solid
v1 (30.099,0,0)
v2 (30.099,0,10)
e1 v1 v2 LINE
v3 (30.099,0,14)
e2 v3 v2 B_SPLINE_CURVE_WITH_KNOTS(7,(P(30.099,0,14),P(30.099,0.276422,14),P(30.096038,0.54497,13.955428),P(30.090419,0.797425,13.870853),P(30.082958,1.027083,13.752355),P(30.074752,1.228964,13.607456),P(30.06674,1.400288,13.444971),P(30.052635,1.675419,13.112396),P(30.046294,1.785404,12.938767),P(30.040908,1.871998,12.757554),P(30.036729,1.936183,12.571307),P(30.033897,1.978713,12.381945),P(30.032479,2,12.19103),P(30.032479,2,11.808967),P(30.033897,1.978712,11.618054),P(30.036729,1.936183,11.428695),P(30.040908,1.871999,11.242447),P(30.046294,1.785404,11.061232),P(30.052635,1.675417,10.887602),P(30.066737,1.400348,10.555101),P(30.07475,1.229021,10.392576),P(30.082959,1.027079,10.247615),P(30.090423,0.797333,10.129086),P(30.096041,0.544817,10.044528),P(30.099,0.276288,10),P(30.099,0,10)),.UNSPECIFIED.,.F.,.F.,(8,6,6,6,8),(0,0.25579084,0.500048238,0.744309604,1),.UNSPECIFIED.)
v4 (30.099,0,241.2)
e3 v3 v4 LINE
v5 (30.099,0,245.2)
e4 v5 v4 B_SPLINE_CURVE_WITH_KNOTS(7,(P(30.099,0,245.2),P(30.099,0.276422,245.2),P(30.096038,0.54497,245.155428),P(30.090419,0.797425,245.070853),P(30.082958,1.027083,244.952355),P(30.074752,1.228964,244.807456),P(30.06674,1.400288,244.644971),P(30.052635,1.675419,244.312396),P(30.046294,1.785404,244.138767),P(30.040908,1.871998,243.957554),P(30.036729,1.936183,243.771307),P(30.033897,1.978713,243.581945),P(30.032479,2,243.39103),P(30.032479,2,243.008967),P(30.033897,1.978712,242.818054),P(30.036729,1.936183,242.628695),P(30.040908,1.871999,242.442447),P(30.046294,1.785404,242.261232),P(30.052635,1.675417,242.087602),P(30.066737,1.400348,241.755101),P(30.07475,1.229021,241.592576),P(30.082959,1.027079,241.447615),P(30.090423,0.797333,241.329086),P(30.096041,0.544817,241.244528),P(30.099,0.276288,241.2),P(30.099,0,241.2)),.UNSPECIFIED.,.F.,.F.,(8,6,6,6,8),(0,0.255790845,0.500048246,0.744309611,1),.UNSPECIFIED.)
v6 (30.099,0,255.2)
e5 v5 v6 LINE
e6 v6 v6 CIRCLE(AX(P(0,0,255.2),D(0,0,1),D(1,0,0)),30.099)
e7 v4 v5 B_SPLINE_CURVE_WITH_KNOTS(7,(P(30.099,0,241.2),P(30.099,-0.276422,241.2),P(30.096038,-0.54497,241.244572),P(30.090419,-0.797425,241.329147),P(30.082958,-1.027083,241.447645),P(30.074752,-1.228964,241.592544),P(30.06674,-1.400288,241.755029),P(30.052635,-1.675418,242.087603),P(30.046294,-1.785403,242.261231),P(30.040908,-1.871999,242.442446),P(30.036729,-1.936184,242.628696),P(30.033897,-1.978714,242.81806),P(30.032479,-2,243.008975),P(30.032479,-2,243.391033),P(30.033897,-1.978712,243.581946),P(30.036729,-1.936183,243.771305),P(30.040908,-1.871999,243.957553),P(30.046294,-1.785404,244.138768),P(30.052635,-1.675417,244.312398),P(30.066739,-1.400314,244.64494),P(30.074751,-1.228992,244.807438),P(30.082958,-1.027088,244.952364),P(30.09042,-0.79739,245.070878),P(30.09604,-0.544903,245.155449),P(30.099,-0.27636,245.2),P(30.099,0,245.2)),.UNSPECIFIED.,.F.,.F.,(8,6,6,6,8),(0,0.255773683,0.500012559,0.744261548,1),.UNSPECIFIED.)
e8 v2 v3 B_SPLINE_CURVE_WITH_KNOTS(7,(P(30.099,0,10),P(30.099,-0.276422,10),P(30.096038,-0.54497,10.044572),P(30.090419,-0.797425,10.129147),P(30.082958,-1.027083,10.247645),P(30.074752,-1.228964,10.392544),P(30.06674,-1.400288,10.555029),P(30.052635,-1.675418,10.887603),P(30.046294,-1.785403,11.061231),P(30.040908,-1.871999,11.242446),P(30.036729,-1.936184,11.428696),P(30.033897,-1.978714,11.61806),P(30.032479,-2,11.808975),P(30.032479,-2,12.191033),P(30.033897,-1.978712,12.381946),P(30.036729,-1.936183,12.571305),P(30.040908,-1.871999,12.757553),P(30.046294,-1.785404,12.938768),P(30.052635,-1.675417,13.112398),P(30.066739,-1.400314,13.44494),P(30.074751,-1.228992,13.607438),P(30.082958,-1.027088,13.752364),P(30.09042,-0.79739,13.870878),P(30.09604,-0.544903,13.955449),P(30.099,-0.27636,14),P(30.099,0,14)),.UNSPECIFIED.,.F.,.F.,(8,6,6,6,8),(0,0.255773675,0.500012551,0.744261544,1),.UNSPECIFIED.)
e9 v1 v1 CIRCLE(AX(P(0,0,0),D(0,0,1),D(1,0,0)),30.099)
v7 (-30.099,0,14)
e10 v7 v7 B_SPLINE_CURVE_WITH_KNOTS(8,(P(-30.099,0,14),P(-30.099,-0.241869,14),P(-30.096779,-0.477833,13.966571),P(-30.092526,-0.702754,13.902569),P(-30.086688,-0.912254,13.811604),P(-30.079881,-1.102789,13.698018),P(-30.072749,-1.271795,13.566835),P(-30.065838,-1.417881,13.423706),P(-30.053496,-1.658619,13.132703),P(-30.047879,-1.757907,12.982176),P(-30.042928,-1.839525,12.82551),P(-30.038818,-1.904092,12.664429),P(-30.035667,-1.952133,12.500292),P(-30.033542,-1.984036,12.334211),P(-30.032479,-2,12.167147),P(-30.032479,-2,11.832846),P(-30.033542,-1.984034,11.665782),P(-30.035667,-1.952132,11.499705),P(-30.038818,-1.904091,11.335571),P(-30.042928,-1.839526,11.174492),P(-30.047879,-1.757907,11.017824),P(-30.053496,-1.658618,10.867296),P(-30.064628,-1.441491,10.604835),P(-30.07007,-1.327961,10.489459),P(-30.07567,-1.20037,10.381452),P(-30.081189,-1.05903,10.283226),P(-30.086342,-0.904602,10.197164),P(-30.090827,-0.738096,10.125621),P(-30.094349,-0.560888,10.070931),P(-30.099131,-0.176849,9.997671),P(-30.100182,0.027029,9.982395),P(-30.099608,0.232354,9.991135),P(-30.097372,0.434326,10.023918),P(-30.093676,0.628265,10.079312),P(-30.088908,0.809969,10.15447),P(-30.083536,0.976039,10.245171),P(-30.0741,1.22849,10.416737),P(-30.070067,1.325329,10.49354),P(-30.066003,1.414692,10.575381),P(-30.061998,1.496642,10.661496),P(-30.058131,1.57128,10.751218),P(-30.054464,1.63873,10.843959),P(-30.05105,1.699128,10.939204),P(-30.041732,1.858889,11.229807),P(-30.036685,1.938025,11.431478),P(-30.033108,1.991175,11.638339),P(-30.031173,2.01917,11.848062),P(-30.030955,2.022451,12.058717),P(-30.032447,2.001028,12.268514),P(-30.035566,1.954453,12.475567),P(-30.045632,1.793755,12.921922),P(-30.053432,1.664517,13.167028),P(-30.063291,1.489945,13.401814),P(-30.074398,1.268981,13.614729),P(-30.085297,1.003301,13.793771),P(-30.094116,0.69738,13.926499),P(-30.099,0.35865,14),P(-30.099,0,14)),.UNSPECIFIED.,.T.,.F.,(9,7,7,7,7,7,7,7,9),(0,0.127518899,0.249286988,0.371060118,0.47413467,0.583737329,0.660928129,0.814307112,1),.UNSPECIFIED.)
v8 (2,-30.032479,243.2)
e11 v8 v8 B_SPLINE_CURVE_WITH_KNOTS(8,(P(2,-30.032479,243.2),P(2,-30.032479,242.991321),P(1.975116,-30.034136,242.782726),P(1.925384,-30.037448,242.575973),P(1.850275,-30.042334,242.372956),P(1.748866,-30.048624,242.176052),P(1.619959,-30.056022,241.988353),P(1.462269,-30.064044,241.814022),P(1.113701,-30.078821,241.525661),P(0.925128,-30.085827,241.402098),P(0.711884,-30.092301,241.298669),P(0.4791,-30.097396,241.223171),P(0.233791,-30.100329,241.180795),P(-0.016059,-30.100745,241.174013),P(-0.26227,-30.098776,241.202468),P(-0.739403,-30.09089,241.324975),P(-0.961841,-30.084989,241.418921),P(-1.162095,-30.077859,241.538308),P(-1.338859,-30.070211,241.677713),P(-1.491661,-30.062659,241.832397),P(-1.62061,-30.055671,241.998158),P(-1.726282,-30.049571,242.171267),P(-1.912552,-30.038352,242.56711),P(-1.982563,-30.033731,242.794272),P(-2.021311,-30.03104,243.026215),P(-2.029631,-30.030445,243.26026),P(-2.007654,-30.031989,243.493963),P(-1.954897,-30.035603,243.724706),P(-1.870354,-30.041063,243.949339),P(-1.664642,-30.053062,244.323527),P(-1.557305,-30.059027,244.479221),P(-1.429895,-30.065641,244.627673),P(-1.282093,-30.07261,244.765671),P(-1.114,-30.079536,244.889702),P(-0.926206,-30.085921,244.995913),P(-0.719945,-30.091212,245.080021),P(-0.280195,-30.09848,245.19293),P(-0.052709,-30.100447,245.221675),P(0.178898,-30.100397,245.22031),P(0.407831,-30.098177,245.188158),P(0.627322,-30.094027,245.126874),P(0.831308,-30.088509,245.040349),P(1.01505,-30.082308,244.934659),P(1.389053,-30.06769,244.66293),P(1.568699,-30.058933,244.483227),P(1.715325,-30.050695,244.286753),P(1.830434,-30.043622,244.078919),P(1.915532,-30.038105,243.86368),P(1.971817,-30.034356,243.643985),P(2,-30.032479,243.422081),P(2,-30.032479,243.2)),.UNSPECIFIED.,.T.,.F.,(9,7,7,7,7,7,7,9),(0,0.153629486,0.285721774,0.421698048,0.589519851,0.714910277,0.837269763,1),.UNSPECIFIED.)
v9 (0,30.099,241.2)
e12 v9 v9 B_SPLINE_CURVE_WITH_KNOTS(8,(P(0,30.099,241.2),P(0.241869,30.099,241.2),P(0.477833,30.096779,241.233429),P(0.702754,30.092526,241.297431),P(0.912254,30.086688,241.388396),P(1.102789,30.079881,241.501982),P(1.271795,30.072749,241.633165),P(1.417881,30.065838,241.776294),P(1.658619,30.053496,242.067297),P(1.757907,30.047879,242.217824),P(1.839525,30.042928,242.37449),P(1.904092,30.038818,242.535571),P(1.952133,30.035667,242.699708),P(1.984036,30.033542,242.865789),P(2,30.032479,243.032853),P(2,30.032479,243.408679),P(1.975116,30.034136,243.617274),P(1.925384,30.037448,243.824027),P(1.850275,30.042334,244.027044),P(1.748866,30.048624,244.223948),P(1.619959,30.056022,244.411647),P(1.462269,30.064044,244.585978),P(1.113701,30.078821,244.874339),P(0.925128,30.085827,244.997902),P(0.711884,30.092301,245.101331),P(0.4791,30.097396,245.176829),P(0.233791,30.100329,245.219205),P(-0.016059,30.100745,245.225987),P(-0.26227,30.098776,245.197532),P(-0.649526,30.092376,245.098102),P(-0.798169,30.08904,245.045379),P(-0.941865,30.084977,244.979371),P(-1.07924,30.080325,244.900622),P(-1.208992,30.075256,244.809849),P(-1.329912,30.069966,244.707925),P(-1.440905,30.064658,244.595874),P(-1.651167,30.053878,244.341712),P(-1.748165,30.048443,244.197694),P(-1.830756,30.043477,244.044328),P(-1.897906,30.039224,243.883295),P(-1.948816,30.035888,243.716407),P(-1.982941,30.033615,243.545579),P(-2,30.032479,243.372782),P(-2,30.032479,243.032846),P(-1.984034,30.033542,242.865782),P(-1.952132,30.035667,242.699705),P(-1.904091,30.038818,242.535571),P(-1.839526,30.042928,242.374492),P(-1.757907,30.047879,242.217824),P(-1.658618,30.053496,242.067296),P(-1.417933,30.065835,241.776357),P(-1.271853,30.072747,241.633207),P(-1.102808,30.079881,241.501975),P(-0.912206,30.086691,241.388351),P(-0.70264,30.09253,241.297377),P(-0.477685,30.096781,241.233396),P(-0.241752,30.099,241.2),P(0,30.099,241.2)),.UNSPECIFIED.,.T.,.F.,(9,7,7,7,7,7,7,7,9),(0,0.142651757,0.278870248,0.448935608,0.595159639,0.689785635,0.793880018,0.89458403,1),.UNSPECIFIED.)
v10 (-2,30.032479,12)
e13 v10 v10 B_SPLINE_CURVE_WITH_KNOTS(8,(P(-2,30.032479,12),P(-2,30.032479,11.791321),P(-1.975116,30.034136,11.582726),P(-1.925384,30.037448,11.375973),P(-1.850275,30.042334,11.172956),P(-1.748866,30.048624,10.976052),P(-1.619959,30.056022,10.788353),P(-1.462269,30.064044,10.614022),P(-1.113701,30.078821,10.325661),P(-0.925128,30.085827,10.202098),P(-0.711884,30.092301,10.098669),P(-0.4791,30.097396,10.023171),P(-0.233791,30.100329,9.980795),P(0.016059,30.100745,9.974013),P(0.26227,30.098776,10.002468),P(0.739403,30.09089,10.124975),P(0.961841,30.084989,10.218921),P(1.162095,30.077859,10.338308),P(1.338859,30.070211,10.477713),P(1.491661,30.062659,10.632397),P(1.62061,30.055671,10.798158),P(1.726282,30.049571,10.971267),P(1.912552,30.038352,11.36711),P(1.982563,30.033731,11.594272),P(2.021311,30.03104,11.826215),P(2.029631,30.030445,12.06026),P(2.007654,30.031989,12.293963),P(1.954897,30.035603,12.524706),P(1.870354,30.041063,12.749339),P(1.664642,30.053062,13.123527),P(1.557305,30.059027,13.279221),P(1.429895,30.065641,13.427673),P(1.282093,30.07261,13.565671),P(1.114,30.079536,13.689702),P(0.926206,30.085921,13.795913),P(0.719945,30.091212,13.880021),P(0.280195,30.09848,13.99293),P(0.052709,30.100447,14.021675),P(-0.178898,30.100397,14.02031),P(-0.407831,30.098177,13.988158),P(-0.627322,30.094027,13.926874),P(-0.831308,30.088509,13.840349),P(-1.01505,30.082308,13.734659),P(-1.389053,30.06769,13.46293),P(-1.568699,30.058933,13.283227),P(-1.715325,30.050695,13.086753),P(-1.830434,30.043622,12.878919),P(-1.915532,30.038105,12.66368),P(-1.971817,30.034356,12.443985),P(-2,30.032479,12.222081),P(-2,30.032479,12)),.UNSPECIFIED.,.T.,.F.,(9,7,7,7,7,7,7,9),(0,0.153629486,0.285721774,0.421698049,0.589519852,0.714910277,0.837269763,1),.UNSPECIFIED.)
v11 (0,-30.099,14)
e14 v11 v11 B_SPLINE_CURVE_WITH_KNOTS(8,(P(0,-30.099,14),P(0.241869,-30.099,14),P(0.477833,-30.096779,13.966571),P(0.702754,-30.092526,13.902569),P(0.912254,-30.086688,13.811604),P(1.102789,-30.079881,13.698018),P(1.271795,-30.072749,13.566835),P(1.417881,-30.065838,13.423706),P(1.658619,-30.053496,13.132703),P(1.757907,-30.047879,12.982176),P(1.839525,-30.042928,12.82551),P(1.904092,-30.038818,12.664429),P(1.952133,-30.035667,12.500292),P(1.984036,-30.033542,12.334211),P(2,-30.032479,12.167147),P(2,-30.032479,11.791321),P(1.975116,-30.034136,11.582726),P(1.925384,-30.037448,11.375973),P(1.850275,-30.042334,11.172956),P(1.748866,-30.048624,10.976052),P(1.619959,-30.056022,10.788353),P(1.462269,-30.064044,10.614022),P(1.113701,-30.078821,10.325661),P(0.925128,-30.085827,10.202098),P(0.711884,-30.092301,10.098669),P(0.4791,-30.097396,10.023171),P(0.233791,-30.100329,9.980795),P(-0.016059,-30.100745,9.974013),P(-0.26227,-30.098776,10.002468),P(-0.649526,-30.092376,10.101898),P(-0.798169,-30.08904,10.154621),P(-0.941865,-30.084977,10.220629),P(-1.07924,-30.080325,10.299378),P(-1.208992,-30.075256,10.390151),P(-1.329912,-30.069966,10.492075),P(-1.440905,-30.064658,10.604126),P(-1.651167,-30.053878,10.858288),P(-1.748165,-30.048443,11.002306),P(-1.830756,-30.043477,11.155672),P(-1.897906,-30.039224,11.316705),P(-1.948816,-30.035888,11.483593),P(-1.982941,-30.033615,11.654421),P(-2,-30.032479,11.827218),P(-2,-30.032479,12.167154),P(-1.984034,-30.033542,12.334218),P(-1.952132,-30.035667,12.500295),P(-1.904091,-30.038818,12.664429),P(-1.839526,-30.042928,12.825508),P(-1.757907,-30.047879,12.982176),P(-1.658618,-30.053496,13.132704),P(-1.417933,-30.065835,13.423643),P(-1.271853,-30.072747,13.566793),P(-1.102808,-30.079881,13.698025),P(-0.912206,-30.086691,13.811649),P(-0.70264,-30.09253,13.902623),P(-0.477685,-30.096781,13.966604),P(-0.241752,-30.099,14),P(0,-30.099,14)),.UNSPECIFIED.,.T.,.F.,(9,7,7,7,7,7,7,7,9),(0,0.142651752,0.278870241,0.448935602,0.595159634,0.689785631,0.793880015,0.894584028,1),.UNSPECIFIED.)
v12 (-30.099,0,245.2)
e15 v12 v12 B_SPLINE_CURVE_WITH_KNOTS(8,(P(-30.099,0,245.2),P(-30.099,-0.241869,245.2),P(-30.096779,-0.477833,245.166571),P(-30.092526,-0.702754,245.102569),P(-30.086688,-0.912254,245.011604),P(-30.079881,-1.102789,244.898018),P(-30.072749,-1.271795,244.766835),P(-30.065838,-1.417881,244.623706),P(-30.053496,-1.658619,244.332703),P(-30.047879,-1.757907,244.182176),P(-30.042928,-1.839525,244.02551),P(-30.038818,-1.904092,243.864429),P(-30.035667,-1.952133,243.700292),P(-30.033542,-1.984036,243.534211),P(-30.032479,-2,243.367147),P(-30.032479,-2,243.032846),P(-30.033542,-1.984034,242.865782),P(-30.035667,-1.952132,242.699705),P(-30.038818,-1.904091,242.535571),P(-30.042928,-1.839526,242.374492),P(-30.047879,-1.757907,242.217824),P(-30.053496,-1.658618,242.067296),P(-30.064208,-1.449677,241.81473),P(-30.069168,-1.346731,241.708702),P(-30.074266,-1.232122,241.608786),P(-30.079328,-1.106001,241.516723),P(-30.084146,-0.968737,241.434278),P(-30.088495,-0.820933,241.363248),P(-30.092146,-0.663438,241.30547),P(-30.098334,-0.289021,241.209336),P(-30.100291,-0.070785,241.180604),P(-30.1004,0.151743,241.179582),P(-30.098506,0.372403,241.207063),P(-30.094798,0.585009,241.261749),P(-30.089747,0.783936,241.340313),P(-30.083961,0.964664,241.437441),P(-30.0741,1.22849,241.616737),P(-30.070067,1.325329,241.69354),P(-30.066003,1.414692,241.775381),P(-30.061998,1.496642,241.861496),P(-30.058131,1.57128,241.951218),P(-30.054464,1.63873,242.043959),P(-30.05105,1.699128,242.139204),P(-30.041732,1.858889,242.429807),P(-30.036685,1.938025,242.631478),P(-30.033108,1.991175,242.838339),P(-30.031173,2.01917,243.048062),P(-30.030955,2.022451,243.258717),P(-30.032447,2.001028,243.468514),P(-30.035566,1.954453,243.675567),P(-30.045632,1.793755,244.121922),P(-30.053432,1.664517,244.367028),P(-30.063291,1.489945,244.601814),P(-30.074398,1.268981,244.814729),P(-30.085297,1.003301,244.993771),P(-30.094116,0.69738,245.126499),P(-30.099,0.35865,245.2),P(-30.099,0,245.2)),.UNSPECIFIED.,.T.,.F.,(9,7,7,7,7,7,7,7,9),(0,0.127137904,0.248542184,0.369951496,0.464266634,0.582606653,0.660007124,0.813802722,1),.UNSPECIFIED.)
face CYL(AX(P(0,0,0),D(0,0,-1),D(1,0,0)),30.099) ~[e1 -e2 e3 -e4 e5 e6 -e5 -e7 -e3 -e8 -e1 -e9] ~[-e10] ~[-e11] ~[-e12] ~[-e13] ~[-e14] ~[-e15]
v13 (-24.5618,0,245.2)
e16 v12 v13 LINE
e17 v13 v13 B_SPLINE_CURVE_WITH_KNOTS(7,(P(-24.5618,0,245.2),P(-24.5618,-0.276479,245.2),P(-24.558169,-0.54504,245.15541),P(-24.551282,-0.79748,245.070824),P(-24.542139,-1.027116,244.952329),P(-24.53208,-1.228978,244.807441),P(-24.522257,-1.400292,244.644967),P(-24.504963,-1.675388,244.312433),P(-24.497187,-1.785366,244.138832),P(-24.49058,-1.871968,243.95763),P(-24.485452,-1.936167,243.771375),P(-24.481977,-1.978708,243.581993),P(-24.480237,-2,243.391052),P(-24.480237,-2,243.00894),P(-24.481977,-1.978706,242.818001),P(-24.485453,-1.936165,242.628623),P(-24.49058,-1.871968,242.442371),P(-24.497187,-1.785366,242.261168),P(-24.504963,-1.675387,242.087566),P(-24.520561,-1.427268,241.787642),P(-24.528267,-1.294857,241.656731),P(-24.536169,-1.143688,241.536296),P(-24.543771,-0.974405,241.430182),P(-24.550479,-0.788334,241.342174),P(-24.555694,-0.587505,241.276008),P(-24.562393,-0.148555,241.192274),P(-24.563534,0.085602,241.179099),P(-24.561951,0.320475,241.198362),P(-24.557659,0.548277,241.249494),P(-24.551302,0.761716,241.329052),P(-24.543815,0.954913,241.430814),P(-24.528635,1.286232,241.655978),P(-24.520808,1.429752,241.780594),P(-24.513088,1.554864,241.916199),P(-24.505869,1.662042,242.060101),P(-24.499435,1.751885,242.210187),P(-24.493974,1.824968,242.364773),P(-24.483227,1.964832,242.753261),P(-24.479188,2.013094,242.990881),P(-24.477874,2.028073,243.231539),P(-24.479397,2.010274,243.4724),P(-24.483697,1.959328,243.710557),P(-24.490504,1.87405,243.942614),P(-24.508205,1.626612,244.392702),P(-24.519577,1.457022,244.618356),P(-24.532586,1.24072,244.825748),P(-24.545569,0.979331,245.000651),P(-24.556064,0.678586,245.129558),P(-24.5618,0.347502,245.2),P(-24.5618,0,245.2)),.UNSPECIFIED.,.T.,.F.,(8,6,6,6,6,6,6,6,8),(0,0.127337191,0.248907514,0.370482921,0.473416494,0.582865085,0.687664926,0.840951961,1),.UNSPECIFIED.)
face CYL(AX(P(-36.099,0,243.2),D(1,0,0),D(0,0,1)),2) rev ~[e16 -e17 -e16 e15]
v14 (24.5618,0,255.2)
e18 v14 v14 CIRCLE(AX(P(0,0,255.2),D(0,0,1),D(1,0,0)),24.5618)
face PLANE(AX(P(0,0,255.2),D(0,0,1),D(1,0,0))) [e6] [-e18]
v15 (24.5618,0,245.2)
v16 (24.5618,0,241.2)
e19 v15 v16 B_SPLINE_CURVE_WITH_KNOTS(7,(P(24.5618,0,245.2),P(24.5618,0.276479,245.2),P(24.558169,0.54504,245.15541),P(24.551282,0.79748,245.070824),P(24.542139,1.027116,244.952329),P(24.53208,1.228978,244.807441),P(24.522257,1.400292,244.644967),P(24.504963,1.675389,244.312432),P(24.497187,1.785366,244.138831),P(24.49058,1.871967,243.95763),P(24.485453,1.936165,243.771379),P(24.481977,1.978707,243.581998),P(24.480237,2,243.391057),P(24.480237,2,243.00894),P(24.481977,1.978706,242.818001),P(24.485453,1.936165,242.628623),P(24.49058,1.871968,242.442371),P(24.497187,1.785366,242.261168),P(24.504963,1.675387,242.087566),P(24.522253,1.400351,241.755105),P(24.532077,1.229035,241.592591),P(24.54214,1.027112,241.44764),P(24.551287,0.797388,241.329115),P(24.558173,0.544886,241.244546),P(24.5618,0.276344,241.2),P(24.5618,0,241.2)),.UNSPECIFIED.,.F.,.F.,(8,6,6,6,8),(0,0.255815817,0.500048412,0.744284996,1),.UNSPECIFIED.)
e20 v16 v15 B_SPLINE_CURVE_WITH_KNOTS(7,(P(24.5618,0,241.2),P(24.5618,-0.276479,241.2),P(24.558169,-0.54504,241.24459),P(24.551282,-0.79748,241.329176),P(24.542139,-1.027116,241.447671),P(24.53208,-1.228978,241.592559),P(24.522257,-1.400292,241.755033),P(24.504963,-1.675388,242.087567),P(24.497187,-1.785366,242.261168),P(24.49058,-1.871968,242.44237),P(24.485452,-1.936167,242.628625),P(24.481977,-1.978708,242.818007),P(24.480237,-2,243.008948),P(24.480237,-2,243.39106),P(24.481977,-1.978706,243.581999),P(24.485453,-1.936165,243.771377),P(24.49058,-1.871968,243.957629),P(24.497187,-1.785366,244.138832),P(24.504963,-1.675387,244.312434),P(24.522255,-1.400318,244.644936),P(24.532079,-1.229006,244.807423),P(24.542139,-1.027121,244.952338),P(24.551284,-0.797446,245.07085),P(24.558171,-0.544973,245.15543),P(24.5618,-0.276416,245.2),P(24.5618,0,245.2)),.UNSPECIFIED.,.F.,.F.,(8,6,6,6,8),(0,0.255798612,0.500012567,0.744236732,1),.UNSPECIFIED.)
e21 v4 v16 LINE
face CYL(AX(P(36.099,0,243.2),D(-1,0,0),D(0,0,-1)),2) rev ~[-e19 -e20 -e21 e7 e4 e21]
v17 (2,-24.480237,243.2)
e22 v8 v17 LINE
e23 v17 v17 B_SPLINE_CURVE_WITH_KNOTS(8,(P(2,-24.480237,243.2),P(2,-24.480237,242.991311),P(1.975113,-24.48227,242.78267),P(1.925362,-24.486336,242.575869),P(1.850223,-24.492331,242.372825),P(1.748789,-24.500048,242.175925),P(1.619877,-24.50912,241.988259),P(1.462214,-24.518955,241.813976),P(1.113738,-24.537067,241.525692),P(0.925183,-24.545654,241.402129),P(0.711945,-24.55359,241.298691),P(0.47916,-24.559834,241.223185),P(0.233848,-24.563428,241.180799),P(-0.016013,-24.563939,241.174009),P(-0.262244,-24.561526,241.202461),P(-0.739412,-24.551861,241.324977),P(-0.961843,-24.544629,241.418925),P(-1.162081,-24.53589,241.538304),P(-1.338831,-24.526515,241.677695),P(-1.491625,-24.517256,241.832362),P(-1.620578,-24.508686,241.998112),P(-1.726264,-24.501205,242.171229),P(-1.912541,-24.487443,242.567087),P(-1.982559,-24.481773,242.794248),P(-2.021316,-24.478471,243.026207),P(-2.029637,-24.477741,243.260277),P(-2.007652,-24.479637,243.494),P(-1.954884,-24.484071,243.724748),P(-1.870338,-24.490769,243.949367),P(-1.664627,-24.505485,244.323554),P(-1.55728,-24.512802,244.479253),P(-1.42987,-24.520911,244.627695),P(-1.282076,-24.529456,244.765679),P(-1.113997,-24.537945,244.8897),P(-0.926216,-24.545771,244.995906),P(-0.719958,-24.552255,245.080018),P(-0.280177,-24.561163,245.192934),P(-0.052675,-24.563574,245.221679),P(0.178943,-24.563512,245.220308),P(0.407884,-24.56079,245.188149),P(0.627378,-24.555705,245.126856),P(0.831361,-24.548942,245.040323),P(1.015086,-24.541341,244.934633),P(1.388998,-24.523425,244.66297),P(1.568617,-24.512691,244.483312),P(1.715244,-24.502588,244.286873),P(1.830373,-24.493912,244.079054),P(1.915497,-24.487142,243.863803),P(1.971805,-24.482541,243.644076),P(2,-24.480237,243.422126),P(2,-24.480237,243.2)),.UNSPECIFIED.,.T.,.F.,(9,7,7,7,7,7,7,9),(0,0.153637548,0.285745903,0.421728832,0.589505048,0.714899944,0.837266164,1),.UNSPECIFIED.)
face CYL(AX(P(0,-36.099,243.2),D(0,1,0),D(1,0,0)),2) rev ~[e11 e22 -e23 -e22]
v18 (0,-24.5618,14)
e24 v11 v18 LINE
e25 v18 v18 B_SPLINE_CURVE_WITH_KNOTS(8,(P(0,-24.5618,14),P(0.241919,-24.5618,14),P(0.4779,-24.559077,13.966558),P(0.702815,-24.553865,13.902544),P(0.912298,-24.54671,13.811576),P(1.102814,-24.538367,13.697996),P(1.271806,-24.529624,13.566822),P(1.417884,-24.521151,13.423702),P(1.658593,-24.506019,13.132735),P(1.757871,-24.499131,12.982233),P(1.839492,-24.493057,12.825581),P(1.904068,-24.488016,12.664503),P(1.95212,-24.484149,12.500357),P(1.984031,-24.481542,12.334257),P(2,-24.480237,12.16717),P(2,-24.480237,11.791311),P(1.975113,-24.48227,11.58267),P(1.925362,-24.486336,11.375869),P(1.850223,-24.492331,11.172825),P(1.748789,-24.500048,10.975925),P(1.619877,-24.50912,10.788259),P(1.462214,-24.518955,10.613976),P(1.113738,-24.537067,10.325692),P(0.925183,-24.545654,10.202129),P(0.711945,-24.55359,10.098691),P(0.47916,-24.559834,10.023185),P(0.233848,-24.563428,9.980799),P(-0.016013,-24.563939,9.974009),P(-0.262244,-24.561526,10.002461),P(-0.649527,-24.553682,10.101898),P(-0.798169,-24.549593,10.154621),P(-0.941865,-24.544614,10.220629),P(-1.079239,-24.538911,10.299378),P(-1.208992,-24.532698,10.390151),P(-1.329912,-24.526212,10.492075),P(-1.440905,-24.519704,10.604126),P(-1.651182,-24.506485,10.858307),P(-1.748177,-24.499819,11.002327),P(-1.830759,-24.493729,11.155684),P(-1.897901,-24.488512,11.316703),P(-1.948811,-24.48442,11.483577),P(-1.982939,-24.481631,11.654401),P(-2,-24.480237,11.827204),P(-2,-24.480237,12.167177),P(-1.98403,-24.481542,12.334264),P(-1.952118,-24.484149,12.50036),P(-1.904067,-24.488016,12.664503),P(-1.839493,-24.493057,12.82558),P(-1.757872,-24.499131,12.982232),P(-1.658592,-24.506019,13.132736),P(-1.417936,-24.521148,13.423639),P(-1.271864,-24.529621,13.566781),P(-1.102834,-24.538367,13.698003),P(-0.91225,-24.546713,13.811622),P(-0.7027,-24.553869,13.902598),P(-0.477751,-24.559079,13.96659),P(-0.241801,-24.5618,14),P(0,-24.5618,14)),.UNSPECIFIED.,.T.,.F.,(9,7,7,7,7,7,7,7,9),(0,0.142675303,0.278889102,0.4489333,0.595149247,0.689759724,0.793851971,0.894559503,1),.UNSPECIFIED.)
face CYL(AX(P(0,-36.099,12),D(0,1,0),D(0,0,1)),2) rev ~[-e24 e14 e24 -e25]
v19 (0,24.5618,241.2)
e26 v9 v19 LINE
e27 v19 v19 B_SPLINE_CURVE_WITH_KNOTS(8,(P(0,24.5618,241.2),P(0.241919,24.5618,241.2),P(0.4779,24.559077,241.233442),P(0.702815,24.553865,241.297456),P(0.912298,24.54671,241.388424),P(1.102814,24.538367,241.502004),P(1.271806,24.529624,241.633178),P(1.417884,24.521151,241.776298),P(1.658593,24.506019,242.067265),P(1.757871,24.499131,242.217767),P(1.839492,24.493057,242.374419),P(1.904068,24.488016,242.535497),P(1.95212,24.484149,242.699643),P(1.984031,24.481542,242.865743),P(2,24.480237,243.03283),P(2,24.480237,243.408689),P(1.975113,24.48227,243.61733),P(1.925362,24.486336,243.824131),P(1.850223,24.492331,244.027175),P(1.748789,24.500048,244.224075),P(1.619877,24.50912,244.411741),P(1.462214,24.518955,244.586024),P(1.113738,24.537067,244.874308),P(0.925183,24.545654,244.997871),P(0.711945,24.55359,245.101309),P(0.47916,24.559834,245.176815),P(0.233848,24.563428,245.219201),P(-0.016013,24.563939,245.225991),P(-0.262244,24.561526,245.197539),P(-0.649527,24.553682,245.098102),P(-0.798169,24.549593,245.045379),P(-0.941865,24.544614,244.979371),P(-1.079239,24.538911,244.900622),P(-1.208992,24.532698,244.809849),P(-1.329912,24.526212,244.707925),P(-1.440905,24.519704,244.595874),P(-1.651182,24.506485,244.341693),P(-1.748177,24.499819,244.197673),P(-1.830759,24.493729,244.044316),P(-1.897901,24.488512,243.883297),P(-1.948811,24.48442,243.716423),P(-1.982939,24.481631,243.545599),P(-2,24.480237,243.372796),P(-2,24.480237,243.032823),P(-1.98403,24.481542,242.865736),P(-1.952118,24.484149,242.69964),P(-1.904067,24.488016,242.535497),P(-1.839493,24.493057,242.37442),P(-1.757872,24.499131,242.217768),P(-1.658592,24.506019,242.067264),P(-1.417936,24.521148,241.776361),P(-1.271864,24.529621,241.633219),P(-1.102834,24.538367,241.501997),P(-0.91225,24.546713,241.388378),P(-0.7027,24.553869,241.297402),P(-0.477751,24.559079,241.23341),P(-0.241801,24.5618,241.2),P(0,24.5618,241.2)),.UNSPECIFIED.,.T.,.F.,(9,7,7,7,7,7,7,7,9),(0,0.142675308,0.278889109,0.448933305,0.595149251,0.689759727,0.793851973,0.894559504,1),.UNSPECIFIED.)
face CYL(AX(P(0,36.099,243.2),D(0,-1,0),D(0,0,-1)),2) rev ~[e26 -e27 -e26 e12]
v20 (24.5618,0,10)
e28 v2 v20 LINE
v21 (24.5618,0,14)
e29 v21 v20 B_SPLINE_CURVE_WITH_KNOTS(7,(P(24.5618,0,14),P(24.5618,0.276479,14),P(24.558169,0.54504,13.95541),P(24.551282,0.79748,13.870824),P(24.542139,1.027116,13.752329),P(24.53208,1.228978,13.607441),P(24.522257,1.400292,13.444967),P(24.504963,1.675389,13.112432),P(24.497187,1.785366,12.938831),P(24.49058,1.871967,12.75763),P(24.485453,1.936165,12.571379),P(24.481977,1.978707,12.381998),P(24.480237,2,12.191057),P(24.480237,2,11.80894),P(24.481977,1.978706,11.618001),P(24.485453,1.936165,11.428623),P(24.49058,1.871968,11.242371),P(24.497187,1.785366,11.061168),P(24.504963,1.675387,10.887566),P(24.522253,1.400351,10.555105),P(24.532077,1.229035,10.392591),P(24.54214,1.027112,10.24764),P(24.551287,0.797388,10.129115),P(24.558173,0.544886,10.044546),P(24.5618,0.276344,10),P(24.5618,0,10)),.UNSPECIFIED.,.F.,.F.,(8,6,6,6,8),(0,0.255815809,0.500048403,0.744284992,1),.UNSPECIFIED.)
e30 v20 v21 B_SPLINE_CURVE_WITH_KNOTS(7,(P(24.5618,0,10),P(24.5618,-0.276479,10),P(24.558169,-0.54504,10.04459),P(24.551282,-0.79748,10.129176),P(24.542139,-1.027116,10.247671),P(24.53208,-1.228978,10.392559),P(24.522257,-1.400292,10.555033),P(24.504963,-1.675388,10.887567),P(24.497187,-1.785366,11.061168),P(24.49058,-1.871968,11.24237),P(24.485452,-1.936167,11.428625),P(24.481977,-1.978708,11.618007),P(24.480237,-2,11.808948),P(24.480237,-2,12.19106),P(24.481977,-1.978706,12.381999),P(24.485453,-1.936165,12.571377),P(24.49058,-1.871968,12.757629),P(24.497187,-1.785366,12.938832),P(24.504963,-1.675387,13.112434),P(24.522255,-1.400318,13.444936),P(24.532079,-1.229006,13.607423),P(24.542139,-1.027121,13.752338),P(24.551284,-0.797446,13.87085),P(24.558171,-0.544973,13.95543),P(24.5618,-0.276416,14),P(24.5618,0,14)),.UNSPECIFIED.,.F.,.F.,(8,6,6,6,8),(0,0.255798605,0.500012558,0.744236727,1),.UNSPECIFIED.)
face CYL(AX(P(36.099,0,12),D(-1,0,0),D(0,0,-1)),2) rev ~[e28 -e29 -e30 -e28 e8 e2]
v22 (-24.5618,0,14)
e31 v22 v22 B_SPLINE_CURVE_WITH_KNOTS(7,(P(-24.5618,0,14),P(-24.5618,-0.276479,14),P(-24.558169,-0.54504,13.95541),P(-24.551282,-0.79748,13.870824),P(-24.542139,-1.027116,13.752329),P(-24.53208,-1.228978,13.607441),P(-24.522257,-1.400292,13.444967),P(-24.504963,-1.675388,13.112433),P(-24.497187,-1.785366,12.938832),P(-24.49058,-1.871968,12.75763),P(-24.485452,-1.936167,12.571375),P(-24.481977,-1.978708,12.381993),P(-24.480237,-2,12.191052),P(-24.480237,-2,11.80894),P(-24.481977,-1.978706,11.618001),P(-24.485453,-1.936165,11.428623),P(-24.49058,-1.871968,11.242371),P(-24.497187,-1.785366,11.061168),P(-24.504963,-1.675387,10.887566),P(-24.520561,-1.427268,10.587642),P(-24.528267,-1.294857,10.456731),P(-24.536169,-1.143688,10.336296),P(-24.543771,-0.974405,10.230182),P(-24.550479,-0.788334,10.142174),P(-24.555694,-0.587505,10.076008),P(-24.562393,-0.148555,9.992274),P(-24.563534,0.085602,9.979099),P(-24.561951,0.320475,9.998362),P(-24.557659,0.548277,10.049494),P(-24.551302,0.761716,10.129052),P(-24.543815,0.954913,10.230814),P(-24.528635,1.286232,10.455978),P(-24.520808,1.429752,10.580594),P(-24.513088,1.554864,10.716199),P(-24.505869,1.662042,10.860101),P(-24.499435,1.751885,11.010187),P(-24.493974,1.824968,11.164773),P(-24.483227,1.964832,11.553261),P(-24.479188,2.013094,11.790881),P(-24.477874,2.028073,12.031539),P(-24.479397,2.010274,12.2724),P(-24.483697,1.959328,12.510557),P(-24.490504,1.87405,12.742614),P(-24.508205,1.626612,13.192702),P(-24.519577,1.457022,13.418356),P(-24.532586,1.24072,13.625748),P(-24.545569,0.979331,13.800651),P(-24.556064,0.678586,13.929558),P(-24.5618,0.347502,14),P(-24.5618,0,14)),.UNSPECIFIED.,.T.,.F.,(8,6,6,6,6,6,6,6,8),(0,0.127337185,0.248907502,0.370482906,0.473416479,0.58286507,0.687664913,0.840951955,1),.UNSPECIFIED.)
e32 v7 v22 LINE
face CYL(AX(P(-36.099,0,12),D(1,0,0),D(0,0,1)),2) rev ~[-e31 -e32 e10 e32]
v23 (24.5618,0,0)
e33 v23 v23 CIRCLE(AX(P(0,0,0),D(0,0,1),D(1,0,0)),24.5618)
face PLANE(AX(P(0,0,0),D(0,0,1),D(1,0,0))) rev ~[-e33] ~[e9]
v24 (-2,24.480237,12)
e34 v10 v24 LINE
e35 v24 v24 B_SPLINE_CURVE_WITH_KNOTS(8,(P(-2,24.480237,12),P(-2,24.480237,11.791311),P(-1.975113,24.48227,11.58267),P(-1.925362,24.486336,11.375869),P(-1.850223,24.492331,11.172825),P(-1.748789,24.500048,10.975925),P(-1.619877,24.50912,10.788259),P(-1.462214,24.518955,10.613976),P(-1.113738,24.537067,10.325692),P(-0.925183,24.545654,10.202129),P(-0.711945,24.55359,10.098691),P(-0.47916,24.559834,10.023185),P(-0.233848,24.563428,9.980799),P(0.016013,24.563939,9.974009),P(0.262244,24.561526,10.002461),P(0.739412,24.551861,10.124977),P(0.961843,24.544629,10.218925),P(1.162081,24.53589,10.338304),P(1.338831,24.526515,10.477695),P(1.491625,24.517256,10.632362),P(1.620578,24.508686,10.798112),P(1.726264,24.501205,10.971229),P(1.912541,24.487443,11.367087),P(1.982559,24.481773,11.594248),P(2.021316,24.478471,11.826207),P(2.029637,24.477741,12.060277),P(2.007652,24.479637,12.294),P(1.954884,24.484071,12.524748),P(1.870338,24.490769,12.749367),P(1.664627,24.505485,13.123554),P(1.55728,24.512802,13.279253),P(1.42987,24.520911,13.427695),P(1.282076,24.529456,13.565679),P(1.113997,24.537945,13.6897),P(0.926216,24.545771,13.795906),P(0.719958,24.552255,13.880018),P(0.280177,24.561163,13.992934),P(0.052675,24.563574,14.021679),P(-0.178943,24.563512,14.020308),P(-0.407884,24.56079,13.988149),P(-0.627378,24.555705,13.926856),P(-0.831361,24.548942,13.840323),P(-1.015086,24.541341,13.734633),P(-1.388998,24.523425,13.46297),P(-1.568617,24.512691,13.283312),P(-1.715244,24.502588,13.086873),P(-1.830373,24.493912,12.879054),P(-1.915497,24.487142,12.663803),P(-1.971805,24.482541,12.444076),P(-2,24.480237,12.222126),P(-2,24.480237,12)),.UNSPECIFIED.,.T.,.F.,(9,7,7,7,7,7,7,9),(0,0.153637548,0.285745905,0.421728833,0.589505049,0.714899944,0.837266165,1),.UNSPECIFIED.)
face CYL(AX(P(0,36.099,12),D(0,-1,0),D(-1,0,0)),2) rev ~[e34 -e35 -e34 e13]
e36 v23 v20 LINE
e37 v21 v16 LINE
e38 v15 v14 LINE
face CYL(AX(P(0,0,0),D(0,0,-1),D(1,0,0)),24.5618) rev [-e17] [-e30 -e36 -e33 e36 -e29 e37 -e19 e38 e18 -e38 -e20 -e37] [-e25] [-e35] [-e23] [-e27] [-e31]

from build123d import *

# Parameters (mm, degrees)
SKETCH1_R                           = 30.099
SKETCH1_R_2                         = 24.5618
BOSS_EXTRUDE1_DEPTH                 = 255.2
F_4_0MM_DOWEL_HOLE1_D               = 4
F_4_0MM_DOWEL_HOLE1_DEPTH           = 6
F_4_0MM_DOWEL_HOLE1_TIP             = 1.201721238
F_4_0MM_DOWEL_HOLE1_ON_FACE_2_D     = 4
F_4_0MM_DOWEL_HOLE1_ON_FACE_2_DEPTH = 6
F_4_0MM_DOWEL_HOLE1_ON_FACE_2_TIP   = 1.201721238
F_4_0MM_DOWEL_HOLE1_ON_FACE_3_D     = 4
F_4_0MM_DOWEL_HOLE1_ON_FACE_3_DEPTH = 6
F_4_0MM_DOWEL_HOLE1_ON_FACE_3_TIP   = 1.201721238
F_4_0MM_DOWEL_HOLE1_ON_FACE_4_D     = 4
F_4_0MM_DOWEL_HOLE1_ON_FACE_4_DEPTH = 6
F_4_0MM_DOWEL_HOLE1_ON_FACE_4_TIP   = 1.201721238
F_4_0MM_DOWEL_HOLE2_D               = 4
F_4_0MM_DOWEL_HOLE2_DEPTH           = 6
F_4_0MM_DOWEL_HOLE2_TIP             = 1.201721238
F_4_0MM_DOWEL_HOLE2_ON_FACE_2_D     = 4
F_4_0MM_DOWEL_HOLE2_ON_FACE_2_DEPTH = 6
F_4_0MM_DOWEL_HOLE2_ON_FACE_2_TIP   = 1.201721238
F_4_0MM_DOWEL_HOLE2_ON_FACE_3_D     = 4
F_4_0MM_DOWEL_HOLE2_ON_FACE_3_DEPTH = 6
F_4_0MM_DOWEL_HOLE2_ON_FACE_3_TIP   = 1.201721238
F_4_0MM_DOWEL_HOLE2_ON_FACE_4_D     = 4
F_4_0MM_DOWEL_HOLE2_ON_FACE_4_DEPTH = 6
F_4_0MM_DOWEL_HOLE2_ON_FACE_4_TIP   = 1.201721238


with BuildPart() as part:
    # Sketch1 → Boss-Extrude1 (new body)
    with BuildSketch(Plane.XY):
        Circle(SKETCH1_R)
        Circle(SKETCH1_R_2, mode=Mode.SUBTRACT)
    extrude(amount=BOSS_EXTRUDE1_DEPTH)

    # Ø4.0mm Dowel Hole1
    with Locations(Plane(origin=(0, 30.099, 12), x_dir=(1, 0, 0), z_dir=(0, 1, 0))):
        with Locations((0, 0)):
            Hole(F_4_0MM_DOWEL_HOLE1_D / 2, depth=F_4_0MM_DOWEL_HOLE1_DEPTH)
            with Locations((0, 0, -(F_4_0MM_DOWEL_HOLE1_DEPTH + F_4_0MM_DOWEL_HOLE1_TIP / 2))):  # 118° drill point
                Cone(0, F_4_0MM_DOWEL_HOLE1_D / 2, F_4_0MM_DOWEL_HOLE1_TIP, mode=Mode.SUBTRACT)

    # Ø4.0mm Dowel Hole1 on face 2
    with Locations(Plane(origin=(30.099, 0, 12), x_dir=(0, 0, 1), z_dir=(1, 0, 0))):
        with Locations((0, 0)):
            Hole(F_4_0MM_DOWEL_HOLE1_ON_FACE_2_D / 2, depth=F_4_0MM_DOWEL_HOLE1_ON_FACE_2_DEPTH)
            with Locations((0, 0, -(F_4_0MM_DOWEL_HOLE1_ON_FACE_2_DEPTH + F_4_0MM_DOWEL_HOLE1_ON_FACE_2_TIP / 2))):  # 118° drill point
                Cone(0, F_4_0MM_DOWEL_HOLE1_ON_FACE_2_D / 2, F_4_0MM_DOWEL_HOLE1_ON_FACE_2_TIP, mode=Mode.SUBTRACT)

    # Ø4.0mm Dowel Hole1 on face 3
    with Locations(Plane(origin=(0, -30.099, 12), x_dir=(0, 0, -1), z_dir=(0, -1, 0))):
        with Locations((0, 0)):
            Hole(F_4_0MM_DOWEL_HOLE1_ON_FACE_3_D / 2, depth=F_4_0MM_DOWEL_HOLE1_ON_FACE_3_DEPTH)
            with Locations((0, 0, -(F_4_0MM_DOWEL_HOLE1_ON_FACE_3_DEPTH + F_4_0MM_DOWEL_HOLE1_ON_FACE_3_TIP / 2))):  # 118° drill point
                Cone(0, F_4_0MM_DOWEL_HOLE1_ON_FACE_3_D / 2, F_4_0MM_DOWEL_HOLE1_ON_FACE_3_TIP, mode=Mode.SUBTRACT)

    # Ø4.0mm Dowel Hole1 on face 4
    with Locations(Plane(origin=(-30.099, 0, 12), x_dir=(0, 0, -1), z_dir=(-1, 0, 0))):
        with Locations((0, 0)):
            Hole(F_4_0MM_DOWEL_HOLE1_ON_FACE_4_D / 2, depth=F_4_0MM_DOWEL_HOLE1_ON_FACE_4_DEPTH)
            with Locations((0, 0, -(F_4_0MM_DOWEL_HOLE1_ON_FACE_4_DEPTH + F_4_0MM_DOWEL_HOLE1_ON_FACE_4_TIP / 2))):  # 118° drill point
                Cone(0, F_4_0MM_DOWEL_HOLE1_ON_FACE_4_D / 2, F_4_0MM_DOWEL_HOLE1_ON_FACE_4_TIP, mode=Mode.SUBTRACT)

    # Ø4.0mm Dowel Hole2
    with Locations(Plane(origin=(0, -30.099, 243.2), x_dir=(-1, 0, 0), z_dir=(0, -1, 0))):
        with Locations((0, 0)):
            Hole(F_4_0MM_DOWEL_HOLE2_D / 2, depth=F_4_0MM_DOWEL_HOLE2_DEPTH)
            with Locations((0, 0, -(F_4_0MM_DOWEL_HOLE2_DEPTH + F_4_0MM_DOWEL_HOLE2_TIP / 2))):  # 118° drill point
                Cone(0, F_4_0MM_DOWEL_HOLE2_D / 2, F_4_0MM_DOWEL_HOLE2_TIP, mode=Mode.SUBTRACT)

    # Ø4.0mm Dowel Hole2 on face 2
    with Locations(Plane(origin=(-30.099, 0, 243.2), x_dir=(0, 0, -1), z_dir=(-1, 0, 0))):
        with Locations((0, 0)):
            Hole(F_4_0MM_DOWEL_HOLE2_ON_FACE_2_D / 2, depth=F_4_0MM_DOWEL_HOLE2_ON_FACE_2_DEPTH)
            with Locations((0, 0, -(F_4_0MM_DOWEL_HOLE2_ON_FACE_2_DEPTH + F_4_0MM_DOWEL_HOLE2_ON_FACE_2_TIP / 2))):  # 118° drill point
                Cone(0, F_4_0MM_DOWEL_HOLE2_ON_FACE_2_D / 2, F_4_0MM_DOWEL_HOLE2_ON_FACE_2_TIP, mode=Mode.SUBTRACT)

    # Ø4.0mm Dowel Hole2 on face 3
    with Locations(Plane(origin=(0, 30.099, 243.2), x_dir=(0, 0, 1), z_dir=(0, 1, 0))):
        with Locations((0, 0)):
            Hole(F_4_0MM_DOWEL_HOLE2_ON_FACE_3_D / 2, depth=F_4_0MM_DOWEL_HOLE2_ON_FACE_3_DEPTH)
            with Locations((0, 0, -(F_4_0MM_DOWEL_HOLE2_ON_FACE_3_DEPTH + F_4_0MM_DOWEL_HOLE2_ON_FACE_3_TIP / 2))):  # 118° drill point
                Cone(0, F_4_0MM_DOWEL_HOLE2_ON_FACE_3_D / 2, F_4_0MM_DOWEL_HOLE2_ON_FACE_3_TIP, mode=Mode.SUBTRACT)

    # Ø4.0mm Dowel Hole2 on face 4
    with Locations(Plane(origin=(30.099, 0, 243.2), x_dir=(0, 0, 1), z_dir=(1, 0, 0))):
        with Locations((0, 0)):
            Hole(F_4_0MM_DOWEL_HOLE2_ON_FACE_4_D / 2, depth=F_4_0MM_DOWEL_HOLE2_ON_FACE_4_DEPTH)
            with Locations((0, 0, -(F_4_0MM_DOWEL_HOLE2_ON_FACE_4_DEPTH + F_4_0MM_DOWEL_HOLE2_ON_FACE_4_TIP / 2))):  # 118° drill point
                Cone(0, F_4_0MM_DOWEL_HOLE2_ON_FACE_4_D / 2, F_4_0MM_DOWEL_HOLE2_ON_FACE_4_TIP, mode=Mode.SUBTRACT)


solid = part.part
